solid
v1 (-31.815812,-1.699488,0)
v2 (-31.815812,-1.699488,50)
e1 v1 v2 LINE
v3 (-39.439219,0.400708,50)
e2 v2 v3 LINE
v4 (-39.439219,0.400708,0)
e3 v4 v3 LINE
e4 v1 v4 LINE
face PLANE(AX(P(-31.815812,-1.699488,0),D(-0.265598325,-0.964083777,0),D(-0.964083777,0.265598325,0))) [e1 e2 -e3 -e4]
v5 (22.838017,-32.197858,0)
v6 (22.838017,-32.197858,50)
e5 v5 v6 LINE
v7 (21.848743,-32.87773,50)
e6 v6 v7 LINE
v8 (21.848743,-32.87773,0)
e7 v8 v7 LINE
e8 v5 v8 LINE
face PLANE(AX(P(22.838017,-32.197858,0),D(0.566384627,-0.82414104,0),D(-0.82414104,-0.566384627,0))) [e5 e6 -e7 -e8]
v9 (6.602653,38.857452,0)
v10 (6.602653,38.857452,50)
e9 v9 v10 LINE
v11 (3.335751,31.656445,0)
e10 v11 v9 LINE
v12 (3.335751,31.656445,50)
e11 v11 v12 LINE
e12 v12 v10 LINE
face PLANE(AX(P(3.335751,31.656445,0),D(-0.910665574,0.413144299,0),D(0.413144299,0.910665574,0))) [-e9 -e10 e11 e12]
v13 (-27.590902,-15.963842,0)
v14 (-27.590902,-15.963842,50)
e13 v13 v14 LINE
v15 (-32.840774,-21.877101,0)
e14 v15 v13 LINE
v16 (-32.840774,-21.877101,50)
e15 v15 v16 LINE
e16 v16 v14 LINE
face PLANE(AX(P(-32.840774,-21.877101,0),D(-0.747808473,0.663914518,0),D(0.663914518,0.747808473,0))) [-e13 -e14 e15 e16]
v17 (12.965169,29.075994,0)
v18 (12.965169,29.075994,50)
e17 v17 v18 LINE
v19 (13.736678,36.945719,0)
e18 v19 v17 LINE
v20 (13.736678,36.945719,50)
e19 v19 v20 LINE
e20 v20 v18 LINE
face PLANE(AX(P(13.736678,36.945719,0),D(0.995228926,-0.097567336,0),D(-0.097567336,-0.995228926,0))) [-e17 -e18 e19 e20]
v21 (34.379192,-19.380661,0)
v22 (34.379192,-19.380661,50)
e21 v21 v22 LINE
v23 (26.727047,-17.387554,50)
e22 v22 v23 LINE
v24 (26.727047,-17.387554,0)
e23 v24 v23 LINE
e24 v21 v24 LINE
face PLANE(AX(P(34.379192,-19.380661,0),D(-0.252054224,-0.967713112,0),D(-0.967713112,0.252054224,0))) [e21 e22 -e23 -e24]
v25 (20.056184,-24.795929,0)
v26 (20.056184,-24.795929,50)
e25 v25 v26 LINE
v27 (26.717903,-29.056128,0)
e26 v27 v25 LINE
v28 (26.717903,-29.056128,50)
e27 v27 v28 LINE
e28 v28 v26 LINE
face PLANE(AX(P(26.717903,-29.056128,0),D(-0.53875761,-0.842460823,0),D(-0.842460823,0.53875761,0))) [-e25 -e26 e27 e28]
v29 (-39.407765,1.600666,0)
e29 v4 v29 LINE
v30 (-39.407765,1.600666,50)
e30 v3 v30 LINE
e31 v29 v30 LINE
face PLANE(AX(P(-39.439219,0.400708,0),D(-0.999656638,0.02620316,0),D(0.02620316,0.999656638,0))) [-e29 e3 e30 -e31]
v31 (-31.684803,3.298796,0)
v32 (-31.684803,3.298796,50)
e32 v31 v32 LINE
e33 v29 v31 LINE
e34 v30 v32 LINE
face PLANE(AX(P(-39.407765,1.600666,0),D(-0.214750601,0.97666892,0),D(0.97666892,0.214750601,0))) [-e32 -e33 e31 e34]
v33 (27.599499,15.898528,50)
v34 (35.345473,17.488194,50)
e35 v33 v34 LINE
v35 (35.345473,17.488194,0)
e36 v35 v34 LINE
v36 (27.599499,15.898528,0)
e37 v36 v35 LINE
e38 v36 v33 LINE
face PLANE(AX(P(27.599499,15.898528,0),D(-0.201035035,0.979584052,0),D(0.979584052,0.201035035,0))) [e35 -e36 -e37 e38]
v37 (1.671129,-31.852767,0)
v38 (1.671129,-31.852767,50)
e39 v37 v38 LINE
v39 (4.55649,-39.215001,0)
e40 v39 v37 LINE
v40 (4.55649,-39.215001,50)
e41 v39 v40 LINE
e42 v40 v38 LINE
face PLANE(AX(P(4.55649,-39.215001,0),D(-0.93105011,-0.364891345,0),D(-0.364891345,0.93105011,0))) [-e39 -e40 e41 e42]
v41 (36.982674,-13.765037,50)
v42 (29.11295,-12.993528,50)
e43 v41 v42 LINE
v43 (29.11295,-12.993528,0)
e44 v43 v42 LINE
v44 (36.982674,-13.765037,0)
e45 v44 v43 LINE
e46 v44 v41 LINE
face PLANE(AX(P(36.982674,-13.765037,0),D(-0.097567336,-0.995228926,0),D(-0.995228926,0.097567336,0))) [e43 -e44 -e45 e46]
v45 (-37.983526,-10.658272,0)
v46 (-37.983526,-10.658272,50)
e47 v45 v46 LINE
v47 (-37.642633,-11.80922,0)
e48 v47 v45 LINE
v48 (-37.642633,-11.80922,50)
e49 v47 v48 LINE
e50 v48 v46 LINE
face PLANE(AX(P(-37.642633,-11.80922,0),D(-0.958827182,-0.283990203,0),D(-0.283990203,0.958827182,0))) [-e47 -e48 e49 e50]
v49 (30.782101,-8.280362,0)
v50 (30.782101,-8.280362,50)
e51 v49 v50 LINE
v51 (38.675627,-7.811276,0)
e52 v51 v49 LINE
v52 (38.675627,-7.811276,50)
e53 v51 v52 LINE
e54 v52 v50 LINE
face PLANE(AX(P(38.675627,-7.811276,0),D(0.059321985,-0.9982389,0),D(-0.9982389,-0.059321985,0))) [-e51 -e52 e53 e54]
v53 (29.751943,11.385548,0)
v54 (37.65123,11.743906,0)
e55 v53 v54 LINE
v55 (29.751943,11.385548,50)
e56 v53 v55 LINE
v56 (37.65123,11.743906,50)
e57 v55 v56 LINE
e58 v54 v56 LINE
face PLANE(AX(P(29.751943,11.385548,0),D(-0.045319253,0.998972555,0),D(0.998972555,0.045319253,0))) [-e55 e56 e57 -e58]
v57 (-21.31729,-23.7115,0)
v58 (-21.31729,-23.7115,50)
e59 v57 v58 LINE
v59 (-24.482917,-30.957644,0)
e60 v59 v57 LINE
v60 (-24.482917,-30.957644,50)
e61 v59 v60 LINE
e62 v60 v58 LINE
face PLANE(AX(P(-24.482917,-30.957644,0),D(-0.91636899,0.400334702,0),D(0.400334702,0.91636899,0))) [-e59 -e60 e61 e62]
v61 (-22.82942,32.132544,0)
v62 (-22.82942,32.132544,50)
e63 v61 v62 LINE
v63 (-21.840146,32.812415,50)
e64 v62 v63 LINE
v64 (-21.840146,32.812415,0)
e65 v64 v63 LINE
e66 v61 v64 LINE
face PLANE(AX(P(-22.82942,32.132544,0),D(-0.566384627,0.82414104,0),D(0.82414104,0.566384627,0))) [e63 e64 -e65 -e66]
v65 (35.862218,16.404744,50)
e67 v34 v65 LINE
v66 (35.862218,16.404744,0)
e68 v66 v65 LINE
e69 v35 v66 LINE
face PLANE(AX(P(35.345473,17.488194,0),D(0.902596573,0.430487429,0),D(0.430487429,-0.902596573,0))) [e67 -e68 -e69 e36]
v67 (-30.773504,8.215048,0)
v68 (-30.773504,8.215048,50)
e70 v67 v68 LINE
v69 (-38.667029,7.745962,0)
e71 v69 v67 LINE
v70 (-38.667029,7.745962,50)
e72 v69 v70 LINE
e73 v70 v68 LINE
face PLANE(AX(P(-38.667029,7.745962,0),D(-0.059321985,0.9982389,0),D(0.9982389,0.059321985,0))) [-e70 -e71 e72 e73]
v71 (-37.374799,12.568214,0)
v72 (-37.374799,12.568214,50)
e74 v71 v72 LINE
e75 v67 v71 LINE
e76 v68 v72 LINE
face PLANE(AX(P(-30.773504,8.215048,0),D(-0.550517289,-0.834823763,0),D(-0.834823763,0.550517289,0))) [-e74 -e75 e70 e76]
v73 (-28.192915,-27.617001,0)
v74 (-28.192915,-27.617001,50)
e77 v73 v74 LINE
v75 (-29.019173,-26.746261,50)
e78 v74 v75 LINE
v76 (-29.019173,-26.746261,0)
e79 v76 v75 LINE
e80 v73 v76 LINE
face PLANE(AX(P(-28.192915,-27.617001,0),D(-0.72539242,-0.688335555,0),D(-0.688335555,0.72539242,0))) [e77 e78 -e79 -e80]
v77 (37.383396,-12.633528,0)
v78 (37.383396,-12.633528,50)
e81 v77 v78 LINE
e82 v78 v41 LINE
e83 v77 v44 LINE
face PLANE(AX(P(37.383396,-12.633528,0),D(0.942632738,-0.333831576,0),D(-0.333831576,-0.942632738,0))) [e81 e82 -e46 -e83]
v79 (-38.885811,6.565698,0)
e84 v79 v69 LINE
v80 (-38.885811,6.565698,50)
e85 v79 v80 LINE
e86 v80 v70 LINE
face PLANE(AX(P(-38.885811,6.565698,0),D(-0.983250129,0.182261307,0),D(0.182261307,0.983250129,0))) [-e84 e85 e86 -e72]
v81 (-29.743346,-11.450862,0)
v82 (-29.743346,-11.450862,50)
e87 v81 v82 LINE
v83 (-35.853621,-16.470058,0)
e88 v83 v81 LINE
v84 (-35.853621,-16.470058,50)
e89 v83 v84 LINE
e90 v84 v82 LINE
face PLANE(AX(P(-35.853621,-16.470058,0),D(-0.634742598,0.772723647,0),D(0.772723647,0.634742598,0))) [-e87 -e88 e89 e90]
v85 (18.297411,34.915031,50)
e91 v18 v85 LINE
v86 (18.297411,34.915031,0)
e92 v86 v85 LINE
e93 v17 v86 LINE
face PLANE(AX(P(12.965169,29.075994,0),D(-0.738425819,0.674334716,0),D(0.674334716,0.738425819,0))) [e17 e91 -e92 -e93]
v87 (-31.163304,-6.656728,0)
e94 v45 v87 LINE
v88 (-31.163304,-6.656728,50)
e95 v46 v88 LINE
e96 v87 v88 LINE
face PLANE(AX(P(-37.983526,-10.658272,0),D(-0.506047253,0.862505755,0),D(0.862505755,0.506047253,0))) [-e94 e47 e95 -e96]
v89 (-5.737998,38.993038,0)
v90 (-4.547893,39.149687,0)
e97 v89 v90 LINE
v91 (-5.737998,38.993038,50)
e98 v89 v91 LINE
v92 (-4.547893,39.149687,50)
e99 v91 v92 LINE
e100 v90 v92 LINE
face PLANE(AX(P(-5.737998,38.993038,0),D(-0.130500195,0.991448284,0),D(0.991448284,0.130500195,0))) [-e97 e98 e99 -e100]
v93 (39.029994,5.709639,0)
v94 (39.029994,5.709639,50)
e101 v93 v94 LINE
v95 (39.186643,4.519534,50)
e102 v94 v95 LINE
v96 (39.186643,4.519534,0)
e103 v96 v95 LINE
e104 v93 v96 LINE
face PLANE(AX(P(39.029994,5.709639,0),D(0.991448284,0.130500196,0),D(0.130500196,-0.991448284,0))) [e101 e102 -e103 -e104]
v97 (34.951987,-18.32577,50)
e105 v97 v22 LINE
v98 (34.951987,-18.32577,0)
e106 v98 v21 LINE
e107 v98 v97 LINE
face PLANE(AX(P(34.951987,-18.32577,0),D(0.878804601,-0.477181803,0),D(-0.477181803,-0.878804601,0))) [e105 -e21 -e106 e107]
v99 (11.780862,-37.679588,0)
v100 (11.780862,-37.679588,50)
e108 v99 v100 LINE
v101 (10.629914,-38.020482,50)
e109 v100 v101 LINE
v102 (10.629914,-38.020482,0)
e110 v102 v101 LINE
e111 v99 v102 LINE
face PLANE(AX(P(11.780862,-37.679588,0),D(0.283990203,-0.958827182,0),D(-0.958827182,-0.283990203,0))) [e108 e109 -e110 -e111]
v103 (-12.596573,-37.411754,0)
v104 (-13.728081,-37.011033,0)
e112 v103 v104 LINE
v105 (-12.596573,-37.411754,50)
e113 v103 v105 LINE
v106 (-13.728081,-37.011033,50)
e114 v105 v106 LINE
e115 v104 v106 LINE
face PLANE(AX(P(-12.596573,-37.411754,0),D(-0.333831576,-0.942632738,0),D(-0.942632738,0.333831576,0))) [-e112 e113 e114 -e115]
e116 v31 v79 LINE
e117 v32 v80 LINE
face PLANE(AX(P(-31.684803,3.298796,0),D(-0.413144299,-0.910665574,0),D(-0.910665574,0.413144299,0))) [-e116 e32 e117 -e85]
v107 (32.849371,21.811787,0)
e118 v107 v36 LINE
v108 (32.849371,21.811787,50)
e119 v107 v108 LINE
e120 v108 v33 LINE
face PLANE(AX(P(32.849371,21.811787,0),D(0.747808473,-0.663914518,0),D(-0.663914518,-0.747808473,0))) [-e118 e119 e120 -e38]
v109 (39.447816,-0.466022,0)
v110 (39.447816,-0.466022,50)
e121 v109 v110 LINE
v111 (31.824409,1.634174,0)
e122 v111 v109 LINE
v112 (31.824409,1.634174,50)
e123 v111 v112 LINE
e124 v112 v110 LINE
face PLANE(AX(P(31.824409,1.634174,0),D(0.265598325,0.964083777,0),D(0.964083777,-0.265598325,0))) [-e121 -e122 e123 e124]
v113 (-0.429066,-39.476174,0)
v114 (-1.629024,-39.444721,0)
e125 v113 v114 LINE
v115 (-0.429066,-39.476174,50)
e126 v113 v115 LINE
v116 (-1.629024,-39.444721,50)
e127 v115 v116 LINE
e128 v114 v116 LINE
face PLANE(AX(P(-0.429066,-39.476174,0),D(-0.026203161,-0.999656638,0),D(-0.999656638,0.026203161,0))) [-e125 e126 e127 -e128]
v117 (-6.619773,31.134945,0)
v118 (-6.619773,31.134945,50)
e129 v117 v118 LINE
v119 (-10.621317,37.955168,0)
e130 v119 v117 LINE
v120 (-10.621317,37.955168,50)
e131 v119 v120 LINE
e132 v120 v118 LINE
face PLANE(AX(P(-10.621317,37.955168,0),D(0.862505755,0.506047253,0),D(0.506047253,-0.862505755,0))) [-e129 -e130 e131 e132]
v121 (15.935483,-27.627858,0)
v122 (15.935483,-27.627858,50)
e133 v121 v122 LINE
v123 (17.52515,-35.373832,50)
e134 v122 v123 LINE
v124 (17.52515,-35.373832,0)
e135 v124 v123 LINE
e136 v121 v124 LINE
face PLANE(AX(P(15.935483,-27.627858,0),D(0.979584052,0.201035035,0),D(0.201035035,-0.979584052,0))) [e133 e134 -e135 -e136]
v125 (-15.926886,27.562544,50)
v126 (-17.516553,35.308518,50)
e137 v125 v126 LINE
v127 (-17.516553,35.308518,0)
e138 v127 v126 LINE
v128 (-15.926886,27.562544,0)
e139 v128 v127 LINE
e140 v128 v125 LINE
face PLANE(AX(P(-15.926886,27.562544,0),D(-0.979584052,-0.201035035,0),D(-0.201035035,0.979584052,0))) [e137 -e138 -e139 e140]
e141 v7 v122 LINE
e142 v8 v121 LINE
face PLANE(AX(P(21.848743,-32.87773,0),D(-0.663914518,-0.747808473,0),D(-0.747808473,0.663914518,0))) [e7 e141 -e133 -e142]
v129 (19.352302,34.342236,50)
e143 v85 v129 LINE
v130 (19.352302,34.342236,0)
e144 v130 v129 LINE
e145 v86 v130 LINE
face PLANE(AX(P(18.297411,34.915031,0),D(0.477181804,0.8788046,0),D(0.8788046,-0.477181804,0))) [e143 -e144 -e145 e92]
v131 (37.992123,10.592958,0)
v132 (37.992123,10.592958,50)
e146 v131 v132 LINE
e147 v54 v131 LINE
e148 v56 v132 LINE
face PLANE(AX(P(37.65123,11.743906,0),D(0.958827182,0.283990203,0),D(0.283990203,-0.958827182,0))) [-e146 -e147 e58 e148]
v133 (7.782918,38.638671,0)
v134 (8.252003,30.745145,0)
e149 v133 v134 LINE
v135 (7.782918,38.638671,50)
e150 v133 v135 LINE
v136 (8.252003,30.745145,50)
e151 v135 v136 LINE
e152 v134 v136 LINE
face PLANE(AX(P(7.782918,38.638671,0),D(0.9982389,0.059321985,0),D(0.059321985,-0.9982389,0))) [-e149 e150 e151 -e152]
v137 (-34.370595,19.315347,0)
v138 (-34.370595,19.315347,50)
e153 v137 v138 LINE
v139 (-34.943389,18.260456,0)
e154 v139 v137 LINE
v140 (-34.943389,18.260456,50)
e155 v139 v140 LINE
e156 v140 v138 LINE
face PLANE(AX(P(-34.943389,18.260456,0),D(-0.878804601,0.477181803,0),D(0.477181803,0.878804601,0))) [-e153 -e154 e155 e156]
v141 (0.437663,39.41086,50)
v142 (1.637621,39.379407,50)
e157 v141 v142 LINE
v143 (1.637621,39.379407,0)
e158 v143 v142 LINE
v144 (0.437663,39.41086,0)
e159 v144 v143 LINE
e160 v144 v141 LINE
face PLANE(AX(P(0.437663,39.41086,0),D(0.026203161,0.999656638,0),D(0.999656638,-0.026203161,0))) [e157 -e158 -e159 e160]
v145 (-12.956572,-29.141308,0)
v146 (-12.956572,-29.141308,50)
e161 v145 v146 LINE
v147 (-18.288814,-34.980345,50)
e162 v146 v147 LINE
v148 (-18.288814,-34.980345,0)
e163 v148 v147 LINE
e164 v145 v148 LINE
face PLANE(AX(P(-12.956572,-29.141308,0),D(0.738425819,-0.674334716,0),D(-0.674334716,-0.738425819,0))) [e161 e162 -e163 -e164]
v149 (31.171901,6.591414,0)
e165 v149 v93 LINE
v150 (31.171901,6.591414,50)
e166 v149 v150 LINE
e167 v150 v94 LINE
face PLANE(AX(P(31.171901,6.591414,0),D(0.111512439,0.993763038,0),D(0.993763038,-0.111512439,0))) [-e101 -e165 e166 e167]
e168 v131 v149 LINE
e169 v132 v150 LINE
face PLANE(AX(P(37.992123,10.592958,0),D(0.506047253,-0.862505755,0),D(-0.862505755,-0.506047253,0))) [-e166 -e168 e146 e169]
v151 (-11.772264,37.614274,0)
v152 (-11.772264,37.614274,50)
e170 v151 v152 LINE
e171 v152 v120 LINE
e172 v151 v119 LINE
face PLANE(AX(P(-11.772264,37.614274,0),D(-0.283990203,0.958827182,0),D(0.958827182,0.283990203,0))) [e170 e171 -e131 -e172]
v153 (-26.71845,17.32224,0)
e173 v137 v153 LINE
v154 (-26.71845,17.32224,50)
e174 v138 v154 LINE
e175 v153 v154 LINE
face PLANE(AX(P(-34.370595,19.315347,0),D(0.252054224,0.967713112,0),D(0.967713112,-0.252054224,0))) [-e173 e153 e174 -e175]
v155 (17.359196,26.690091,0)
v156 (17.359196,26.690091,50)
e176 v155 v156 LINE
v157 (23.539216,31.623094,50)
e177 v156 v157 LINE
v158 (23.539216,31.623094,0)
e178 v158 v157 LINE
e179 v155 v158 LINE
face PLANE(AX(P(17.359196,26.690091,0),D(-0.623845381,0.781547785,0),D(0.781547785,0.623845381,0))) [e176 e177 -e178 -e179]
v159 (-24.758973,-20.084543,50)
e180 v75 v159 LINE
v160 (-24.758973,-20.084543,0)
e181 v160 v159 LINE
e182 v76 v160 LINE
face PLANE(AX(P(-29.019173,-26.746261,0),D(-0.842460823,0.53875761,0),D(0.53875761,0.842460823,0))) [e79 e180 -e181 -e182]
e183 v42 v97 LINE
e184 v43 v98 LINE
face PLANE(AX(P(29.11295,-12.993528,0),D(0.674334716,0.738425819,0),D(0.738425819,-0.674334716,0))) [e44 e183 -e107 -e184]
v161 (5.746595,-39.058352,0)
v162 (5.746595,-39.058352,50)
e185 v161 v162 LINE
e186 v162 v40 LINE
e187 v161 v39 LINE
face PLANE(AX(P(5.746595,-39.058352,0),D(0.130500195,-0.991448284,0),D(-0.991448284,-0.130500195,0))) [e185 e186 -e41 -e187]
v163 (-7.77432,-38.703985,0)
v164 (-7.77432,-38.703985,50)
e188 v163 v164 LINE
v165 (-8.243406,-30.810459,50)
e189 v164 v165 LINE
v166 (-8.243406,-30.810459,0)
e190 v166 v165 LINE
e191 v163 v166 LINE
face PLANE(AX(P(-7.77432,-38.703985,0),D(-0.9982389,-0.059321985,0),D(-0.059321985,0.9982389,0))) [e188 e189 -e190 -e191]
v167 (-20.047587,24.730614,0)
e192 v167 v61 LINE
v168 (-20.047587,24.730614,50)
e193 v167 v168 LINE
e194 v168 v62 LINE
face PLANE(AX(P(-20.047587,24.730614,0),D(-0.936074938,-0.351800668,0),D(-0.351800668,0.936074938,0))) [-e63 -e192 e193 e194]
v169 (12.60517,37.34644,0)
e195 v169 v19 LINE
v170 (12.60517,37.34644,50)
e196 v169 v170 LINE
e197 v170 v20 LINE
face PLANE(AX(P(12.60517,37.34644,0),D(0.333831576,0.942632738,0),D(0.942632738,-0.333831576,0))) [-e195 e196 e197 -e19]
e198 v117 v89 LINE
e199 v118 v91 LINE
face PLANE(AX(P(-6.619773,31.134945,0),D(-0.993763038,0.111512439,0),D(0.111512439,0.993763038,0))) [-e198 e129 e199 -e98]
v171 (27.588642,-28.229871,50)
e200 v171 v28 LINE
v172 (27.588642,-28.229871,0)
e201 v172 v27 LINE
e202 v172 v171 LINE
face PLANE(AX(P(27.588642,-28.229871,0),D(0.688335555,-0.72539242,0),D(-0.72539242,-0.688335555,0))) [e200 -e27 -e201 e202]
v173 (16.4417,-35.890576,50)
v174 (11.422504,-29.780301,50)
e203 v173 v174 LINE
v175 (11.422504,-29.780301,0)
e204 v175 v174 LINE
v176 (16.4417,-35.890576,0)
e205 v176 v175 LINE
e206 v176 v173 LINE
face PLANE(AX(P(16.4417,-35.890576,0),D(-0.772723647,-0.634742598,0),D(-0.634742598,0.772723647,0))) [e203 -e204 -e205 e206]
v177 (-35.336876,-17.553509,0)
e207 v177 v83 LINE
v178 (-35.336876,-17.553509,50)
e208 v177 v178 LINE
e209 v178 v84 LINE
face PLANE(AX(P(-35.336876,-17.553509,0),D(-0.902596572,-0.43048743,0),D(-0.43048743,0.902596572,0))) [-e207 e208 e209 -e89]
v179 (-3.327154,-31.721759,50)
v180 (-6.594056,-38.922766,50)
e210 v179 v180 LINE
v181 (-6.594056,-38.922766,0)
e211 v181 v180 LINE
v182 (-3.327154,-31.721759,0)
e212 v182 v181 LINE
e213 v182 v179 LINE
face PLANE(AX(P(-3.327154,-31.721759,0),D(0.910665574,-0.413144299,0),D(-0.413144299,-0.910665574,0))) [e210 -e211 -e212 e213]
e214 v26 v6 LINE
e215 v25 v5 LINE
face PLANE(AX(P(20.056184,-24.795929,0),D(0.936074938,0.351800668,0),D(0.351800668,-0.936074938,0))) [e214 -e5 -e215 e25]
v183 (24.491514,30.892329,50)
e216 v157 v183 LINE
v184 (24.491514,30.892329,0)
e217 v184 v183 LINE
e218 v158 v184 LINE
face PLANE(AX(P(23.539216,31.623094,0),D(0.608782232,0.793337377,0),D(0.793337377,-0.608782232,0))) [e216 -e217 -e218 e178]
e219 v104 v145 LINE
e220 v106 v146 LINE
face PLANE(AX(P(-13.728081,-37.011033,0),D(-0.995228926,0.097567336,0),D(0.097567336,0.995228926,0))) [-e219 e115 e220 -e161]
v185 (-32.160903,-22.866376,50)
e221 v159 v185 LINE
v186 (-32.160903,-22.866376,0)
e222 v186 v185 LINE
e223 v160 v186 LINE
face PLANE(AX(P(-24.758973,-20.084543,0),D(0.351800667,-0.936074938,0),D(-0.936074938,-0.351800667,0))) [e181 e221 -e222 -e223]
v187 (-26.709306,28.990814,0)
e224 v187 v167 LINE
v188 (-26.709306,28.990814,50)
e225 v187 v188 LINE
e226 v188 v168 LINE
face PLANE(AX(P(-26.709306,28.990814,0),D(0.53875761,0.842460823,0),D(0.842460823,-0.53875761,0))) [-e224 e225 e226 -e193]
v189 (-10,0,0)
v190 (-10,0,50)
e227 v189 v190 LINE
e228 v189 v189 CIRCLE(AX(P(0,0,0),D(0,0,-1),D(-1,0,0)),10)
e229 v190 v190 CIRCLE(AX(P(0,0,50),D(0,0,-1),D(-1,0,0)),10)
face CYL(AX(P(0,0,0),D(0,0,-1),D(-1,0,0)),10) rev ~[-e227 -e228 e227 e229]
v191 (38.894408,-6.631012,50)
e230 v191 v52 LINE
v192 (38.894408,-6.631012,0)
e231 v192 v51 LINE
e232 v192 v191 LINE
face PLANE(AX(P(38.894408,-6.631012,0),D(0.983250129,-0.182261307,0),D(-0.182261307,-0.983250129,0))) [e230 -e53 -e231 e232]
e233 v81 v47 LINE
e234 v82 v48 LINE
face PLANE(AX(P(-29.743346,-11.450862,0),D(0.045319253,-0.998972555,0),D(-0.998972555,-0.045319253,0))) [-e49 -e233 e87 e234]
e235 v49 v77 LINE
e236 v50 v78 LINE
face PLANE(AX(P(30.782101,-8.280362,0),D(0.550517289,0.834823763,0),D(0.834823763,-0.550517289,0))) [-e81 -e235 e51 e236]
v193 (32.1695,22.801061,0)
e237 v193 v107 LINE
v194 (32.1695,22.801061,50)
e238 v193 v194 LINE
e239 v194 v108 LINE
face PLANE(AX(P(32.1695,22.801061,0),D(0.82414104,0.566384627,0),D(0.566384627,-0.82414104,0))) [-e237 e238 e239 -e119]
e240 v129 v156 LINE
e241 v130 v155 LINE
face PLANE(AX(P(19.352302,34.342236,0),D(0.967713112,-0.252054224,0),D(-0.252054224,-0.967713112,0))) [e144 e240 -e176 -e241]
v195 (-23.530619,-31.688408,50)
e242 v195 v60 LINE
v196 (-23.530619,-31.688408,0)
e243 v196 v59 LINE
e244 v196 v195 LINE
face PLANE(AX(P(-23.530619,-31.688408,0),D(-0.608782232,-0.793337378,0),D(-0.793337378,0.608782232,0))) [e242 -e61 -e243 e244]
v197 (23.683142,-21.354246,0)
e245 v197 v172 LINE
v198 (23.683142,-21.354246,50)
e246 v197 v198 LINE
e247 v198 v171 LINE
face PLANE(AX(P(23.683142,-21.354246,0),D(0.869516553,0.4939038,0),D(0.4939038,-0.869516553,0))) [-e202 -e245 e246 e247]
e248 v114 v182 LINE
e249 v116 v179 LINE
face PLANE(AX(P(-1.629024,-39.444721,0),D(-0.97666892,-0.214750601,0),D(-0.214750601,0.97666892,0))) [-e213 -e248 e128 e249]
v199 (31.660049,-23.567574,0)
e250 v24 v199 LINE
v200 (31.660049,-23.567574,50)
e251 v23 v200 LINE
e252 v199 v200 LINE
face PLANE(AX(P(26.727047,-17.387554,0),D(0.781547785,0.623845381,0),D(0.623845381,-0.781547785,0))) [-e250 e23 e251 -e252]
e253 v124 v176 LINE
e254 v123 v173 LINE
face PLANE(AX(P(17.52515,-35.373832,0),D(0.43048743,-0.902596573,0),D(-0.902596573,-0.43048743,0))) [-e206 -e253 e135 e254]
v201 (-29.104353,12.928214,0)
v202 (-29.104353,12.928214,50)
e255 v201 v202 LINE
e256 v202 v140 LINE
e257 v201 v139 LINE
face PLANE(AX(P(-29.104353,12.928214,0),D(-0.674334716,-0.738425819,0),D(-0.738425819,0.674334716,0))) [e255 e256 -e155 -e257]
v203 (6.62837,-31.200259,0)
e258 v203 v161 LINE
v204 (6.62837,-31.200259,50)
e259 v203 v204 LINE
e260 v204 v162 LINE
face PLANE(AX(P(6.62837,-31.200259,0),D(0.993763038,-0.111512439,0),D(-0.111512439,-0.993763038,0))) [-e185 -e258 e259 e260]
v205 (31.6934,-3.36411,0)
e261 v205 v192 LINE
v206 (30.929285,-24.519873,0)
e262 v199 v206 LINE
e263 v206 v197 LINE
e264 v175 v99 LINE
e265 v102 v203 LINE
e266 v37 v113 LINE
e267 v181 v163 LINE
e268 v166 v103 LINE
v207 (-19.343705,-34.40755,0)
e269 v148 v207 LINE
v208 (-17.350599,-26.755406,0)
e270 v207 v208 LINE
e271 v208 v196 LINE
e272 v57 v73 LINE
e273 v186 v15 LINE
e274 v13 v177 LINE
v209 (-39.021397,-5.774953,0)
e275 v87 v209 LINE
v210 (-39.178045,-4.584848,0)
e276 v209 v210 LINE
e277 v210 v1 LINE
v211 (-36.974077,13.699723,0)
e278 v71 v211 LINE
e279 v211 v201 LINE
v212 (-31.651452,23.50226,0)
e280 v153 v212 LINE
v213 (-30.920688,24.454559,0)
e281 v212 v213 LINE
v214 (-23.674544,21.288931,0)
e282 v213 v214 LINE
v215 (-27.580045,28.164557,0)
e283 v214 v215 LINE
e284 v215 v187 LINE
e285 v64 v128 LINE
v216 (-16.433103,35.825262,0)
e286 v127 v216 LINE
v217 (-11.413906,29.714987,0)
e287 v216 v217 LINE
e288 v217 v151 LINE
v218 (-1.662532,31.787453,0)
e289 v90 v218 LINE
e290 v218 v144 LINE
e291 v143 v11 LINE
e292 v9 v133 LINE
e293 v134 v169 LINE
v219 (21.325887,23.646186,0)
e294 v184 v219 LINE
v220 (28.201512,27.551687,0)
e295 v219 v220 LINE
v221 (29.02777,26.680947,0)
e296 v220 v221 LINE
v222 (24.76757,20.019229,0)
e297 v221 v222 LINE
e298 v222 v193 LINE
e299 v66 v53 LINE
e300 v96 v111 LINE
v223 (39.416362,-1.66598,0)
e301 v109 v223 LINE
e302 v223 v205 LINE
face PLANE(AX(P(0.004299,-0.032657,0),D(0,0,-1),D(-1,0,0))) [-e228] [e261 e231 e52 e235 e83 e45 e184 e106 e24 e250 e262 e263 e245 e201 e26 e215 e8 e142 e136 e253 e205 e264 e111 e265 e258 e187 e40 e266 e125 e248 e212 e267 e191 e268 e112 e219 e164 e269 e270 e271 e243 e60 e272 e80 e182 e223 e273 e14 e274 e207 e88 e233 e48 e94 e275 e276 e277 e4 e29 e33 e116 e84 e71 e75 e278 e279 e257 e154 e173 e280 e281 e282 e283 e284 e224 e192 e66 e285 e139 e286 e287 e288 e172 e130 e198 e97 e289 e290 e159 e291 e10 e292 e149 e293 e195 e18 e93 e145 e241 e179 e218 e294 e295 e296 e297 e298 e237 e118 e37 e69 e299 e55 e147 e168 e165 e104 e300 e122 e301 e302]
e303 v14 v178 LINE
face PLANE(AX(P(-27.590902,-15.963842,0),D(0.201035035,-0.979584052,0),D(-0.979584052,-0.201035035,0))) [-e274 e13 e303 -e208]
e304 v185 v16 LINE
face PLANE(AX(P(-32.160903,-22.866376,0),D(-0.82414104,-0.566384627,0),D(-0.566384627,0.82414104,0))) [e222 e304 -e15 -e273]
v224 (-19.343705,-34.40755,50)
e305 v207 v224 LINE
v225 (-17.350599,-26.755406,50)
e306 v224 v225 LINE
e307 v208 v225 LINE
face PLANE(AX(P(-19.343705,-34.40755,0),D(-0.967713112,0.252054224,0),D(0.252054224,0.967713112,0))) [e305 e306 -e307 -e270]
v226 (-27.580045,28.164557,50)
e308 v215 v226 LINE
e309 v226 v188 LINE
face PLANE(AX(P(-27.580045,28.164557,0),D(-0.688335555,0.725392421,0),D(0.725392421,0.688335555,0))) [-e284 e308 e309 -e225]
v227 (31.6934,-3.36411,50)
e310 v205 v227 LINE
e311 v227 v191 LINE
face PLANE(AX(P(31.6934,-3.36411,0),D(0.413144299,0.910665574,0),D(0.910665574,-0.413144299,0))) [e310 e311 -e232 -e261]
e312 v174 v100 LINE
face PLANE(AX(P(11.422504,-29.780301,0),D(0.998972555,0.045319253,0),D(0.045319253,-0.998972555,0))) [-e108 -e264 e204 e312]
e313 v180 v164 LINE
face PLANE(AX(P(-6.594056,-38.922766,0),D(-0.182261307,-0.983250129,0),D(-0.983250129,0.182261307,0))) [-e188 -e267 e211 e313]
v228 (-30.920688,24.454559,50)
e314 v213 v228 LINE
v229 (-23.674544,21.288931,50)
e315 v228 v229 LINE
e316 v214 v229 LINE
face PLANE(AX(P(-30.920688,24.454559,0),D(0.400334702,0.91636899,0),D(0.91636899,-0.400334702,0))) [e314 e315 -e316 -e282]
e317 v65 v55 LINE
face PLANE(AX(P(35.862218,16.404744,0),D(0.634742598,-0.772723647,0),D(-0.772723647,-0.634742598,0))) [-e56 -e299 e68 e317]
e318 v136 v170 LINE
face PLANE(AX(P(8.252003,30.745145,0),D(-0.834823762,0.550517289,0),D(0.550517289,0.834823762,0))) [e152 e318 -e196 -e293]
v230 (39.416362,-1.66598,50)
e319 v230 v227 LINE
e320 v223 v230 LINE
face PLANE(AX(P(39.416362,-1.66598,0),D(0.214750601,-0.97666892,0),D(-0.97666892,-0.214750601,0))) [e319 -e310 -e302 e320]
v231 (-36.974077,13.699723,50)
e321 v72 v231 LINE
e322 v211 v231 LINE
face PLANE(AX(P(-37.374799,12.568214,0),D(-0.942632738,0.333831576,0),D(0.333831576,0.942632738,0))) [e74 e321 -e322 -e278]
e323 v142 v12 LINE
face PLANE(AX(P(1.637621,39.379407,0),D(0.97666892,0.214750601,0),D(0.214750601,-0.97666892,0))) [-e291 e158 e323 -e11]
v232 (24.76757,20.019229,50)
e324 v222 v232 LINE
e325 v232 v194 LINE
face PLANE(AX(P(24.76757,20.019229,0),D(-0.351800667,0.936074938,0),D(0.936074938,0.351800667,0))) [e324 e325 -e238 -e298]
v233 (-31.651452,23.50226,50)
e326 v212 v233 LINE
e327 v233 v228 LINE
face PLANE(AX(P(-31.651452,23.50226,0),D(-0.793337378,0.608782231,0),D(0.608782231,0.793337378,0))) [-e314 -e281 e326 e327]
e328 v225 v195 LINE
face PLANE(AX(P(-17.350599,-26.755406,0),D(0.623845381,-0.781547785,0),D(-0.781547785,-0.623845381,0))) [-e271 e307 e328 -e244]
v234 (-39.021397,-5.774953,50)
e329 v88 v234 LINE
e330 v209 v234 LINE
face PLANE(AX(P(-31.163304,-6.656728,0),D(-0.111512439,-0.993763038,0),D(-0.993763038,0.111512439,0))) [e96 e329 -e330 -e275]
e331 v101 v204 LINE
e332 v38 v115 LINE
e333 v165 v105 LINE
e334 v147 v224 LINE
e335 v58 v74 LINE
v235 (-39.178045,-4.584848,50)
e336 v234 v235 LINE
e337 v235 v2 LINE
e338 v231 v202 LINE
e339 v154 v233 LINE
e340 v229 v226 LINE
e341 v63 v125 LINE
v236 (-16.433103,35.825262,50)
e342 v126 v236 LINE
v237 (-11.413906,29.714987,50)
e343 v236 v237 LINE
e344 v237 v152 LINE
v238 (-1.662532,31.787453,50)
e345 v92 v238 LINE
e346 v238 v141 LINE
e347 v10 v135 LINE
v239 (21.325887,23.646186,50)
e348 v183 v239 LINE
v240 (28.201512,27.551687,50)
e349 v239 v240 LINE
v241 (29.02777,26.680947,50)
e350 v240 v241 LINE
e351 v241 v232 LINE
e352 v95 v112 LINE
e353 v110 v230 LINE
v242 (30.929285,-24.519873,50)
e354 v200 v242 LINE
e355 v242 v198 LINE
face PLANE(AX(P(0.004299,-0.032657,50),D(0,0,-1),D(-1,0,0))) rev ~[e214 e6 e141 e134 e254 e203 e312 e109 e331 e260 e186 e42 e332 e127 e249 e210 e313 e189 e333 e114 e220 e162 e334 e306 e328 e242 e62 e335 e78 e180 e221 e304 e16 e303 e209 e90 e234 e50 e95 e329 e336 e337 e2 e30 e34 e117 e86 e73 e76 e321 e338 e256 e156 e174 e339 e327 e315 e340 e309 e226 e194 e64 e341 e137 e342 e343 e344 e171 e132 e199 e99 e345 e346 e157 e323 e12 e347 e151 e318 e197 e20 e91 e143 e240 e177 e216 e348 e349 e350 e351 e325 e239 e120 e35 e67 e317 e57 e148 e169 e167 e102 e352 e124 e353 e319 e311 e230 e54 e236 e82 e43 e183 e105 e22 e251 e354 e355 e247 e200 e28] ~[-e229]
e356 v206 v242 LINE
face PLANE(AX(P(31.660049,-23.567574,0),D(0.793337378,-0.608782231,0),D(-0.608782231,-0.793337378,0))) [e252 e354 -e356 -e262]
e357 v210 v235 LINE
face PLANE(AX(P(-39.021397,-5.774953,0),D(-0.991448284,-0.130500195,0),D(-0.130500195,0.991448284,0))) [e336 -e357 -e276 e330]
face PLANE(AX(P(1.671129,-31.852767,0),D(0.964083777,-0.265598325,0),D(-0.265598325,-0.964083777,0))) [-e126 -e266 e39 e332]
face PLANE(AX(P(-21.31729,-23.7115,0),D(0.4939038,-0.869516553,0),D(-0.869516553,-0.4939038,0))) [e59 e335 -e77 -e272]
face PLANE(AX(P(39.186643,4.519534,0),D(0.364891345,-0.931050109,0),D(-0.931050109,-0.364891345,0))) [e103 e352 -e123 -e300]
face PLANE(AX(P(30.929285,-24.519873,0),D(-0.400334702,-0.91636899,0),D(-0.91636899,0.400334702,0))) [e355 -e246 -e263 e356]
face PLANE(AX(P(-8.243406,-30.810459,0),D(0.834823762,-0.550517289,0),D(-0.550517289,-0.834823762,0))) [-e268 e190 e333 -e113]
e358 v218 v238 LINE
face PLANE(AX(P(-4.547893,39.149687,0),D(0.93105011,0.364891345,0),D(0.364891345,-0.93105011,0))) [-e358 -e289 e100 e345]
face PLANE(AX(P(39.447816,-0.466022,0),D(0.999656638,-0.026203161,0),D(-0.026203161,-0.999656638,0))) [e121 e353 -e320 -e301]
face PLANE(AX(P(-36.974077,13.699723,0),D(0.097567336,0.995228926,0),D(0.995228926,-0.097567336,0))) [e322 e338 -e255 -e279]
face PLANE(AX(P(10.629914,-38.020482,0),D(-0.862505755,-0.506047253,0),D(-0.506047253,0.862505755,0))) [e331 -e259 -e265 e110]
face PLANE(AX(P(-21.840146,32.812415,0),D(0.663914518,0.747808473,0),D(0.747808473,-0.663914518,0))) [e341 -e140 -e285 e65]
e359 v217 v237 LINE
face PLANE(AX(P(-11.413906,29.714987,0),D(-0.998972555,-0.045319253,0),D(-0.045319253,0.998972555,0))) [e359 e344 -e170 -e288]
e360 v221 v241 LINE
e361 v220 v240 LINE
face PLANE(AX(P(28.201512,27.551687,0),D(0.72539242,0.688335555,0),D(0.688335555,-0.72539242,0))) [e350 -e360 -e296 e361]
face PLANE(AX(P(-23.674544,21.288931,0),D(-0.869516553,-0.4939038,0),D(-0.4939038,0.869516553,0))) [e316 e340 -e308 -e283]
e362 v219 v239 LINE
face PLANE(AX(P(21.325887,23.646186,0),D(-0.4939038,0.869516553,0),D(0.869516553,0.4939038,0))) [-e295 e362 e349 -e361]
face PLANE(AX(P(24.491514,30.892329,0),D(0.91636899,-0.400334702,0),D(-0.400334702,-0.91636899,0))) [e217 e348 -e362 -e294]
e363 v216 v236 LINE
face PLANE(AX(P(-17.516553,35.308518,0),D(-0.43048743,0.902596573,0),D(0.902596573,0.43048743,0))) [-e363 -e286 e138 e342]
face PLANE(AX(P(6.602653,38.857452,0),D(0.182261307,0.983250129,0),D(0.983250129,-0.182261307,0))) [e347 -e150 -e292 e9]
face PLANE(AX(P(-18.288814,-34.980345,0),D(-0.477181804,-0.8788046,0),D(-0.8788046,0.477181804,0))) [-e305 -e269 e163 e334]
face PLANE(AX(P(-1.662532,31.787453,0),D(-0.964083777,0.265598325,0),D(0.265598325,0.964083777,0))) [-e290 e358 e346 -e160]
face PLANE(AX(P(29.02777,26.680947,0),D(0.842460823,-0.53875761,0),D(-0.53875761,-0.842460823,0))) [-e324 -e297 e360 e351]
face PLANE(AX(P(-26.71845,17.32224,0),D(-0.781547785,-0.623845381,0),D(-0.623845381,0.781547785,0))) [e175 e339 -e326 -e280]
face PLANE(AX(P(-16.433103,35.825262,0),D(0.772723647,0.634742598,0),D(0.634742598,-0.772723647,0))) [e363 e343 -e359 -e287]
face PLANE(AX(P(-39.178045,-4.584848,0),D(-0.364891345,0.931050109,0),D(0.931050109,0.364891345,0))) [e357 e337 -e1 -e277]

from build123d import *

# Parameters (mm, degrees)
BOSS_EXTRUDE1_DEPTH = 50
SKETCH2_R           = 10
CUT_EXTRUDE1_DEPTH  = 50


with BuildPart() as part:
    # Sketch1 → Boss-Extrude1 (new body)
    with BuildSketch(Plane.XY):
        Polygon((-6.619772583, 31.13494509), (-5.73799784, 38.993038365), (-4.547892767, 39.149686923), (-1.662532106, 31.787453214), (0.437663145, 39.41086036), (1.637621283, 39.379406864), (3.335751275, 31.656444617), (6.602653255, 38.857452051), (7.782917506, 38.638670991), (8.252003232, 30.745145167), (12.605169974, 37.346440186), (13.736678316, 36.945718677), (12.965169329, 29.075994081), (18.297411419, 34.915030894), (19.35230236, 34.342236029), (17.359195772, 26.690091397), (23.539215714, 31.623093539), (24.491514339, 30.892329429), (21.325887048, 23.646185959), (28.201512241, 27.551686544), (29.027769797, 26.680947028), (24.767570054, 20.01922882), (32.169499785, 22.801061463), (32.849371069, 21.811787037), (27.59949913, 15.898527702), (35.345473326, 17.488194451), (35.86221765, 16.404744334), (29.751942786, 11.385547942), (37.651229853, 11.743905927), (37.992123258, 10.592958256), (31.171900714, 6.59141408), (39.029993988, 5.709639337), (39.186642547, 4.519534265), (31.824408837, 1.634173603), (39.447815984, -0.466021647), (39.416362488, -1.665979785), (31.693400241, -3.364109777), (38.894407674, -6.631011757), (38.675626614, -7.811276009), (30.782100791, -8.280361735), (37.38339581, -12.633528476), (36.982674301, -13.765036818), (29.112949705, -12.993527831), (34.951986517, -18.325769921), (34.379191653, -19.380660863), (26.727047021, -17.387554274), (31.660049162, -23.567574216), (30.929285053, -24.519872841), (23.683141582, -21.354245551), (27.588642168, -28.229870743), (26.717902652, -29.056128299), (20.056184443, -24.795928556), (22.838017087, -32.197858288), (21.84874266, -32.877729572), (15.935483325, -27.627857633), (17.525150075, -35.373831828), (16.441699957, -35.890576153), (11.422503566, -29.780301288), (11.78086155, -37.679588355), (10.62991388, -38.02048176), (6.628369704, -31.200259216), (5.746594961, -39.058352491), (4.556489888, -39.215001049), (1.671129227, -31.85276734), (-0.429066024, -39.476174486), (-1.629024161, -39.44472099), (-3.327154153, -31.721758743), (-6.594056134, -38.922766177), (-7.774320385, -38.703985117), (-8.243406111, -30.810459293), (-12.596572853, -37.411754312), (-13.728081194, -37.011032803), (-12.956572207, -29.141308207), (-18.288814298, -34.98034502), (-19.343705239, -34.407550155), (-17.350598651, -26.755405523), (-23.530618592, -31.688407665), (-24.482917218, -30.957643555), (-21.317289927, -23.711500085), (-28.192915119, -27.61700067), (-29.019172675, -26.746261154), (-24.758972932, -20.084542946), (-32.160902664, -22.866375589), (-32.840773948, -21.877101162), (-27.590902009, -15.963841828), (-35.336876204, -17.553508577), (-35.853620529, -16.47005846), (-29.743345665, -11.450862068), (-37.642632731, -11.809220053), (-37.983526136, -10.658272382), (-31.163303592, -6.656728206), (-39.021396867, -5.774953463), (-39.178045425, -4.584848391), (-31.815811716, -1.699487729), (-39.439218862, 0.400707521), (-39.407765367, 1.600665659), (-31.68480312, 3.298795651), (-38.885810553, 6.565697631), (-38.667029493, 7.745961883), (-30.77350367, 8.215047609), (-37.374798689, 12.56821435), (-36.97407718, 13.699722692), (-29.104352583, 12.928213705), (-34.943389396, 18.260455795), (-34.370594532, 19.315346737), (-26.7184499, 17.322240148), (-31.651452041, 23.50226009), (-30.920687932, 24.454558715), (-23.674544461, 21.288931425), (-27.580045047, 28.164556617), (-26.70930553, 28.990814173), (-20.047587322, 24.73061443), (-22.829419966, 32.132544162), (-21.840145539, 32.812415446), (-15.926886204, 27.562543507), (-17.516552954, 35.308517702), (-16.433102836, 35.825262027), (-11.413906444, 29.714987162), (-11.772264429, 37.614274229), (-10.621316758, 37.955167634), align=None)
    extrude(amount=BOSS_EXTRUDE1_DEPTH)

    # Sketch2 → Cut-Extrude1 (cut)
    with BuildSketch(Plane(origin=(0, 0, 0), x_dir=(-1, 0, 0), z_dir=(0, 0, -1))):
        Circle(SKETCH2_R)
    extrude(amount=-CUT_EXTRUDE1_DEPTH, mode=Mode.SUBTRACT)


solid = part.part
